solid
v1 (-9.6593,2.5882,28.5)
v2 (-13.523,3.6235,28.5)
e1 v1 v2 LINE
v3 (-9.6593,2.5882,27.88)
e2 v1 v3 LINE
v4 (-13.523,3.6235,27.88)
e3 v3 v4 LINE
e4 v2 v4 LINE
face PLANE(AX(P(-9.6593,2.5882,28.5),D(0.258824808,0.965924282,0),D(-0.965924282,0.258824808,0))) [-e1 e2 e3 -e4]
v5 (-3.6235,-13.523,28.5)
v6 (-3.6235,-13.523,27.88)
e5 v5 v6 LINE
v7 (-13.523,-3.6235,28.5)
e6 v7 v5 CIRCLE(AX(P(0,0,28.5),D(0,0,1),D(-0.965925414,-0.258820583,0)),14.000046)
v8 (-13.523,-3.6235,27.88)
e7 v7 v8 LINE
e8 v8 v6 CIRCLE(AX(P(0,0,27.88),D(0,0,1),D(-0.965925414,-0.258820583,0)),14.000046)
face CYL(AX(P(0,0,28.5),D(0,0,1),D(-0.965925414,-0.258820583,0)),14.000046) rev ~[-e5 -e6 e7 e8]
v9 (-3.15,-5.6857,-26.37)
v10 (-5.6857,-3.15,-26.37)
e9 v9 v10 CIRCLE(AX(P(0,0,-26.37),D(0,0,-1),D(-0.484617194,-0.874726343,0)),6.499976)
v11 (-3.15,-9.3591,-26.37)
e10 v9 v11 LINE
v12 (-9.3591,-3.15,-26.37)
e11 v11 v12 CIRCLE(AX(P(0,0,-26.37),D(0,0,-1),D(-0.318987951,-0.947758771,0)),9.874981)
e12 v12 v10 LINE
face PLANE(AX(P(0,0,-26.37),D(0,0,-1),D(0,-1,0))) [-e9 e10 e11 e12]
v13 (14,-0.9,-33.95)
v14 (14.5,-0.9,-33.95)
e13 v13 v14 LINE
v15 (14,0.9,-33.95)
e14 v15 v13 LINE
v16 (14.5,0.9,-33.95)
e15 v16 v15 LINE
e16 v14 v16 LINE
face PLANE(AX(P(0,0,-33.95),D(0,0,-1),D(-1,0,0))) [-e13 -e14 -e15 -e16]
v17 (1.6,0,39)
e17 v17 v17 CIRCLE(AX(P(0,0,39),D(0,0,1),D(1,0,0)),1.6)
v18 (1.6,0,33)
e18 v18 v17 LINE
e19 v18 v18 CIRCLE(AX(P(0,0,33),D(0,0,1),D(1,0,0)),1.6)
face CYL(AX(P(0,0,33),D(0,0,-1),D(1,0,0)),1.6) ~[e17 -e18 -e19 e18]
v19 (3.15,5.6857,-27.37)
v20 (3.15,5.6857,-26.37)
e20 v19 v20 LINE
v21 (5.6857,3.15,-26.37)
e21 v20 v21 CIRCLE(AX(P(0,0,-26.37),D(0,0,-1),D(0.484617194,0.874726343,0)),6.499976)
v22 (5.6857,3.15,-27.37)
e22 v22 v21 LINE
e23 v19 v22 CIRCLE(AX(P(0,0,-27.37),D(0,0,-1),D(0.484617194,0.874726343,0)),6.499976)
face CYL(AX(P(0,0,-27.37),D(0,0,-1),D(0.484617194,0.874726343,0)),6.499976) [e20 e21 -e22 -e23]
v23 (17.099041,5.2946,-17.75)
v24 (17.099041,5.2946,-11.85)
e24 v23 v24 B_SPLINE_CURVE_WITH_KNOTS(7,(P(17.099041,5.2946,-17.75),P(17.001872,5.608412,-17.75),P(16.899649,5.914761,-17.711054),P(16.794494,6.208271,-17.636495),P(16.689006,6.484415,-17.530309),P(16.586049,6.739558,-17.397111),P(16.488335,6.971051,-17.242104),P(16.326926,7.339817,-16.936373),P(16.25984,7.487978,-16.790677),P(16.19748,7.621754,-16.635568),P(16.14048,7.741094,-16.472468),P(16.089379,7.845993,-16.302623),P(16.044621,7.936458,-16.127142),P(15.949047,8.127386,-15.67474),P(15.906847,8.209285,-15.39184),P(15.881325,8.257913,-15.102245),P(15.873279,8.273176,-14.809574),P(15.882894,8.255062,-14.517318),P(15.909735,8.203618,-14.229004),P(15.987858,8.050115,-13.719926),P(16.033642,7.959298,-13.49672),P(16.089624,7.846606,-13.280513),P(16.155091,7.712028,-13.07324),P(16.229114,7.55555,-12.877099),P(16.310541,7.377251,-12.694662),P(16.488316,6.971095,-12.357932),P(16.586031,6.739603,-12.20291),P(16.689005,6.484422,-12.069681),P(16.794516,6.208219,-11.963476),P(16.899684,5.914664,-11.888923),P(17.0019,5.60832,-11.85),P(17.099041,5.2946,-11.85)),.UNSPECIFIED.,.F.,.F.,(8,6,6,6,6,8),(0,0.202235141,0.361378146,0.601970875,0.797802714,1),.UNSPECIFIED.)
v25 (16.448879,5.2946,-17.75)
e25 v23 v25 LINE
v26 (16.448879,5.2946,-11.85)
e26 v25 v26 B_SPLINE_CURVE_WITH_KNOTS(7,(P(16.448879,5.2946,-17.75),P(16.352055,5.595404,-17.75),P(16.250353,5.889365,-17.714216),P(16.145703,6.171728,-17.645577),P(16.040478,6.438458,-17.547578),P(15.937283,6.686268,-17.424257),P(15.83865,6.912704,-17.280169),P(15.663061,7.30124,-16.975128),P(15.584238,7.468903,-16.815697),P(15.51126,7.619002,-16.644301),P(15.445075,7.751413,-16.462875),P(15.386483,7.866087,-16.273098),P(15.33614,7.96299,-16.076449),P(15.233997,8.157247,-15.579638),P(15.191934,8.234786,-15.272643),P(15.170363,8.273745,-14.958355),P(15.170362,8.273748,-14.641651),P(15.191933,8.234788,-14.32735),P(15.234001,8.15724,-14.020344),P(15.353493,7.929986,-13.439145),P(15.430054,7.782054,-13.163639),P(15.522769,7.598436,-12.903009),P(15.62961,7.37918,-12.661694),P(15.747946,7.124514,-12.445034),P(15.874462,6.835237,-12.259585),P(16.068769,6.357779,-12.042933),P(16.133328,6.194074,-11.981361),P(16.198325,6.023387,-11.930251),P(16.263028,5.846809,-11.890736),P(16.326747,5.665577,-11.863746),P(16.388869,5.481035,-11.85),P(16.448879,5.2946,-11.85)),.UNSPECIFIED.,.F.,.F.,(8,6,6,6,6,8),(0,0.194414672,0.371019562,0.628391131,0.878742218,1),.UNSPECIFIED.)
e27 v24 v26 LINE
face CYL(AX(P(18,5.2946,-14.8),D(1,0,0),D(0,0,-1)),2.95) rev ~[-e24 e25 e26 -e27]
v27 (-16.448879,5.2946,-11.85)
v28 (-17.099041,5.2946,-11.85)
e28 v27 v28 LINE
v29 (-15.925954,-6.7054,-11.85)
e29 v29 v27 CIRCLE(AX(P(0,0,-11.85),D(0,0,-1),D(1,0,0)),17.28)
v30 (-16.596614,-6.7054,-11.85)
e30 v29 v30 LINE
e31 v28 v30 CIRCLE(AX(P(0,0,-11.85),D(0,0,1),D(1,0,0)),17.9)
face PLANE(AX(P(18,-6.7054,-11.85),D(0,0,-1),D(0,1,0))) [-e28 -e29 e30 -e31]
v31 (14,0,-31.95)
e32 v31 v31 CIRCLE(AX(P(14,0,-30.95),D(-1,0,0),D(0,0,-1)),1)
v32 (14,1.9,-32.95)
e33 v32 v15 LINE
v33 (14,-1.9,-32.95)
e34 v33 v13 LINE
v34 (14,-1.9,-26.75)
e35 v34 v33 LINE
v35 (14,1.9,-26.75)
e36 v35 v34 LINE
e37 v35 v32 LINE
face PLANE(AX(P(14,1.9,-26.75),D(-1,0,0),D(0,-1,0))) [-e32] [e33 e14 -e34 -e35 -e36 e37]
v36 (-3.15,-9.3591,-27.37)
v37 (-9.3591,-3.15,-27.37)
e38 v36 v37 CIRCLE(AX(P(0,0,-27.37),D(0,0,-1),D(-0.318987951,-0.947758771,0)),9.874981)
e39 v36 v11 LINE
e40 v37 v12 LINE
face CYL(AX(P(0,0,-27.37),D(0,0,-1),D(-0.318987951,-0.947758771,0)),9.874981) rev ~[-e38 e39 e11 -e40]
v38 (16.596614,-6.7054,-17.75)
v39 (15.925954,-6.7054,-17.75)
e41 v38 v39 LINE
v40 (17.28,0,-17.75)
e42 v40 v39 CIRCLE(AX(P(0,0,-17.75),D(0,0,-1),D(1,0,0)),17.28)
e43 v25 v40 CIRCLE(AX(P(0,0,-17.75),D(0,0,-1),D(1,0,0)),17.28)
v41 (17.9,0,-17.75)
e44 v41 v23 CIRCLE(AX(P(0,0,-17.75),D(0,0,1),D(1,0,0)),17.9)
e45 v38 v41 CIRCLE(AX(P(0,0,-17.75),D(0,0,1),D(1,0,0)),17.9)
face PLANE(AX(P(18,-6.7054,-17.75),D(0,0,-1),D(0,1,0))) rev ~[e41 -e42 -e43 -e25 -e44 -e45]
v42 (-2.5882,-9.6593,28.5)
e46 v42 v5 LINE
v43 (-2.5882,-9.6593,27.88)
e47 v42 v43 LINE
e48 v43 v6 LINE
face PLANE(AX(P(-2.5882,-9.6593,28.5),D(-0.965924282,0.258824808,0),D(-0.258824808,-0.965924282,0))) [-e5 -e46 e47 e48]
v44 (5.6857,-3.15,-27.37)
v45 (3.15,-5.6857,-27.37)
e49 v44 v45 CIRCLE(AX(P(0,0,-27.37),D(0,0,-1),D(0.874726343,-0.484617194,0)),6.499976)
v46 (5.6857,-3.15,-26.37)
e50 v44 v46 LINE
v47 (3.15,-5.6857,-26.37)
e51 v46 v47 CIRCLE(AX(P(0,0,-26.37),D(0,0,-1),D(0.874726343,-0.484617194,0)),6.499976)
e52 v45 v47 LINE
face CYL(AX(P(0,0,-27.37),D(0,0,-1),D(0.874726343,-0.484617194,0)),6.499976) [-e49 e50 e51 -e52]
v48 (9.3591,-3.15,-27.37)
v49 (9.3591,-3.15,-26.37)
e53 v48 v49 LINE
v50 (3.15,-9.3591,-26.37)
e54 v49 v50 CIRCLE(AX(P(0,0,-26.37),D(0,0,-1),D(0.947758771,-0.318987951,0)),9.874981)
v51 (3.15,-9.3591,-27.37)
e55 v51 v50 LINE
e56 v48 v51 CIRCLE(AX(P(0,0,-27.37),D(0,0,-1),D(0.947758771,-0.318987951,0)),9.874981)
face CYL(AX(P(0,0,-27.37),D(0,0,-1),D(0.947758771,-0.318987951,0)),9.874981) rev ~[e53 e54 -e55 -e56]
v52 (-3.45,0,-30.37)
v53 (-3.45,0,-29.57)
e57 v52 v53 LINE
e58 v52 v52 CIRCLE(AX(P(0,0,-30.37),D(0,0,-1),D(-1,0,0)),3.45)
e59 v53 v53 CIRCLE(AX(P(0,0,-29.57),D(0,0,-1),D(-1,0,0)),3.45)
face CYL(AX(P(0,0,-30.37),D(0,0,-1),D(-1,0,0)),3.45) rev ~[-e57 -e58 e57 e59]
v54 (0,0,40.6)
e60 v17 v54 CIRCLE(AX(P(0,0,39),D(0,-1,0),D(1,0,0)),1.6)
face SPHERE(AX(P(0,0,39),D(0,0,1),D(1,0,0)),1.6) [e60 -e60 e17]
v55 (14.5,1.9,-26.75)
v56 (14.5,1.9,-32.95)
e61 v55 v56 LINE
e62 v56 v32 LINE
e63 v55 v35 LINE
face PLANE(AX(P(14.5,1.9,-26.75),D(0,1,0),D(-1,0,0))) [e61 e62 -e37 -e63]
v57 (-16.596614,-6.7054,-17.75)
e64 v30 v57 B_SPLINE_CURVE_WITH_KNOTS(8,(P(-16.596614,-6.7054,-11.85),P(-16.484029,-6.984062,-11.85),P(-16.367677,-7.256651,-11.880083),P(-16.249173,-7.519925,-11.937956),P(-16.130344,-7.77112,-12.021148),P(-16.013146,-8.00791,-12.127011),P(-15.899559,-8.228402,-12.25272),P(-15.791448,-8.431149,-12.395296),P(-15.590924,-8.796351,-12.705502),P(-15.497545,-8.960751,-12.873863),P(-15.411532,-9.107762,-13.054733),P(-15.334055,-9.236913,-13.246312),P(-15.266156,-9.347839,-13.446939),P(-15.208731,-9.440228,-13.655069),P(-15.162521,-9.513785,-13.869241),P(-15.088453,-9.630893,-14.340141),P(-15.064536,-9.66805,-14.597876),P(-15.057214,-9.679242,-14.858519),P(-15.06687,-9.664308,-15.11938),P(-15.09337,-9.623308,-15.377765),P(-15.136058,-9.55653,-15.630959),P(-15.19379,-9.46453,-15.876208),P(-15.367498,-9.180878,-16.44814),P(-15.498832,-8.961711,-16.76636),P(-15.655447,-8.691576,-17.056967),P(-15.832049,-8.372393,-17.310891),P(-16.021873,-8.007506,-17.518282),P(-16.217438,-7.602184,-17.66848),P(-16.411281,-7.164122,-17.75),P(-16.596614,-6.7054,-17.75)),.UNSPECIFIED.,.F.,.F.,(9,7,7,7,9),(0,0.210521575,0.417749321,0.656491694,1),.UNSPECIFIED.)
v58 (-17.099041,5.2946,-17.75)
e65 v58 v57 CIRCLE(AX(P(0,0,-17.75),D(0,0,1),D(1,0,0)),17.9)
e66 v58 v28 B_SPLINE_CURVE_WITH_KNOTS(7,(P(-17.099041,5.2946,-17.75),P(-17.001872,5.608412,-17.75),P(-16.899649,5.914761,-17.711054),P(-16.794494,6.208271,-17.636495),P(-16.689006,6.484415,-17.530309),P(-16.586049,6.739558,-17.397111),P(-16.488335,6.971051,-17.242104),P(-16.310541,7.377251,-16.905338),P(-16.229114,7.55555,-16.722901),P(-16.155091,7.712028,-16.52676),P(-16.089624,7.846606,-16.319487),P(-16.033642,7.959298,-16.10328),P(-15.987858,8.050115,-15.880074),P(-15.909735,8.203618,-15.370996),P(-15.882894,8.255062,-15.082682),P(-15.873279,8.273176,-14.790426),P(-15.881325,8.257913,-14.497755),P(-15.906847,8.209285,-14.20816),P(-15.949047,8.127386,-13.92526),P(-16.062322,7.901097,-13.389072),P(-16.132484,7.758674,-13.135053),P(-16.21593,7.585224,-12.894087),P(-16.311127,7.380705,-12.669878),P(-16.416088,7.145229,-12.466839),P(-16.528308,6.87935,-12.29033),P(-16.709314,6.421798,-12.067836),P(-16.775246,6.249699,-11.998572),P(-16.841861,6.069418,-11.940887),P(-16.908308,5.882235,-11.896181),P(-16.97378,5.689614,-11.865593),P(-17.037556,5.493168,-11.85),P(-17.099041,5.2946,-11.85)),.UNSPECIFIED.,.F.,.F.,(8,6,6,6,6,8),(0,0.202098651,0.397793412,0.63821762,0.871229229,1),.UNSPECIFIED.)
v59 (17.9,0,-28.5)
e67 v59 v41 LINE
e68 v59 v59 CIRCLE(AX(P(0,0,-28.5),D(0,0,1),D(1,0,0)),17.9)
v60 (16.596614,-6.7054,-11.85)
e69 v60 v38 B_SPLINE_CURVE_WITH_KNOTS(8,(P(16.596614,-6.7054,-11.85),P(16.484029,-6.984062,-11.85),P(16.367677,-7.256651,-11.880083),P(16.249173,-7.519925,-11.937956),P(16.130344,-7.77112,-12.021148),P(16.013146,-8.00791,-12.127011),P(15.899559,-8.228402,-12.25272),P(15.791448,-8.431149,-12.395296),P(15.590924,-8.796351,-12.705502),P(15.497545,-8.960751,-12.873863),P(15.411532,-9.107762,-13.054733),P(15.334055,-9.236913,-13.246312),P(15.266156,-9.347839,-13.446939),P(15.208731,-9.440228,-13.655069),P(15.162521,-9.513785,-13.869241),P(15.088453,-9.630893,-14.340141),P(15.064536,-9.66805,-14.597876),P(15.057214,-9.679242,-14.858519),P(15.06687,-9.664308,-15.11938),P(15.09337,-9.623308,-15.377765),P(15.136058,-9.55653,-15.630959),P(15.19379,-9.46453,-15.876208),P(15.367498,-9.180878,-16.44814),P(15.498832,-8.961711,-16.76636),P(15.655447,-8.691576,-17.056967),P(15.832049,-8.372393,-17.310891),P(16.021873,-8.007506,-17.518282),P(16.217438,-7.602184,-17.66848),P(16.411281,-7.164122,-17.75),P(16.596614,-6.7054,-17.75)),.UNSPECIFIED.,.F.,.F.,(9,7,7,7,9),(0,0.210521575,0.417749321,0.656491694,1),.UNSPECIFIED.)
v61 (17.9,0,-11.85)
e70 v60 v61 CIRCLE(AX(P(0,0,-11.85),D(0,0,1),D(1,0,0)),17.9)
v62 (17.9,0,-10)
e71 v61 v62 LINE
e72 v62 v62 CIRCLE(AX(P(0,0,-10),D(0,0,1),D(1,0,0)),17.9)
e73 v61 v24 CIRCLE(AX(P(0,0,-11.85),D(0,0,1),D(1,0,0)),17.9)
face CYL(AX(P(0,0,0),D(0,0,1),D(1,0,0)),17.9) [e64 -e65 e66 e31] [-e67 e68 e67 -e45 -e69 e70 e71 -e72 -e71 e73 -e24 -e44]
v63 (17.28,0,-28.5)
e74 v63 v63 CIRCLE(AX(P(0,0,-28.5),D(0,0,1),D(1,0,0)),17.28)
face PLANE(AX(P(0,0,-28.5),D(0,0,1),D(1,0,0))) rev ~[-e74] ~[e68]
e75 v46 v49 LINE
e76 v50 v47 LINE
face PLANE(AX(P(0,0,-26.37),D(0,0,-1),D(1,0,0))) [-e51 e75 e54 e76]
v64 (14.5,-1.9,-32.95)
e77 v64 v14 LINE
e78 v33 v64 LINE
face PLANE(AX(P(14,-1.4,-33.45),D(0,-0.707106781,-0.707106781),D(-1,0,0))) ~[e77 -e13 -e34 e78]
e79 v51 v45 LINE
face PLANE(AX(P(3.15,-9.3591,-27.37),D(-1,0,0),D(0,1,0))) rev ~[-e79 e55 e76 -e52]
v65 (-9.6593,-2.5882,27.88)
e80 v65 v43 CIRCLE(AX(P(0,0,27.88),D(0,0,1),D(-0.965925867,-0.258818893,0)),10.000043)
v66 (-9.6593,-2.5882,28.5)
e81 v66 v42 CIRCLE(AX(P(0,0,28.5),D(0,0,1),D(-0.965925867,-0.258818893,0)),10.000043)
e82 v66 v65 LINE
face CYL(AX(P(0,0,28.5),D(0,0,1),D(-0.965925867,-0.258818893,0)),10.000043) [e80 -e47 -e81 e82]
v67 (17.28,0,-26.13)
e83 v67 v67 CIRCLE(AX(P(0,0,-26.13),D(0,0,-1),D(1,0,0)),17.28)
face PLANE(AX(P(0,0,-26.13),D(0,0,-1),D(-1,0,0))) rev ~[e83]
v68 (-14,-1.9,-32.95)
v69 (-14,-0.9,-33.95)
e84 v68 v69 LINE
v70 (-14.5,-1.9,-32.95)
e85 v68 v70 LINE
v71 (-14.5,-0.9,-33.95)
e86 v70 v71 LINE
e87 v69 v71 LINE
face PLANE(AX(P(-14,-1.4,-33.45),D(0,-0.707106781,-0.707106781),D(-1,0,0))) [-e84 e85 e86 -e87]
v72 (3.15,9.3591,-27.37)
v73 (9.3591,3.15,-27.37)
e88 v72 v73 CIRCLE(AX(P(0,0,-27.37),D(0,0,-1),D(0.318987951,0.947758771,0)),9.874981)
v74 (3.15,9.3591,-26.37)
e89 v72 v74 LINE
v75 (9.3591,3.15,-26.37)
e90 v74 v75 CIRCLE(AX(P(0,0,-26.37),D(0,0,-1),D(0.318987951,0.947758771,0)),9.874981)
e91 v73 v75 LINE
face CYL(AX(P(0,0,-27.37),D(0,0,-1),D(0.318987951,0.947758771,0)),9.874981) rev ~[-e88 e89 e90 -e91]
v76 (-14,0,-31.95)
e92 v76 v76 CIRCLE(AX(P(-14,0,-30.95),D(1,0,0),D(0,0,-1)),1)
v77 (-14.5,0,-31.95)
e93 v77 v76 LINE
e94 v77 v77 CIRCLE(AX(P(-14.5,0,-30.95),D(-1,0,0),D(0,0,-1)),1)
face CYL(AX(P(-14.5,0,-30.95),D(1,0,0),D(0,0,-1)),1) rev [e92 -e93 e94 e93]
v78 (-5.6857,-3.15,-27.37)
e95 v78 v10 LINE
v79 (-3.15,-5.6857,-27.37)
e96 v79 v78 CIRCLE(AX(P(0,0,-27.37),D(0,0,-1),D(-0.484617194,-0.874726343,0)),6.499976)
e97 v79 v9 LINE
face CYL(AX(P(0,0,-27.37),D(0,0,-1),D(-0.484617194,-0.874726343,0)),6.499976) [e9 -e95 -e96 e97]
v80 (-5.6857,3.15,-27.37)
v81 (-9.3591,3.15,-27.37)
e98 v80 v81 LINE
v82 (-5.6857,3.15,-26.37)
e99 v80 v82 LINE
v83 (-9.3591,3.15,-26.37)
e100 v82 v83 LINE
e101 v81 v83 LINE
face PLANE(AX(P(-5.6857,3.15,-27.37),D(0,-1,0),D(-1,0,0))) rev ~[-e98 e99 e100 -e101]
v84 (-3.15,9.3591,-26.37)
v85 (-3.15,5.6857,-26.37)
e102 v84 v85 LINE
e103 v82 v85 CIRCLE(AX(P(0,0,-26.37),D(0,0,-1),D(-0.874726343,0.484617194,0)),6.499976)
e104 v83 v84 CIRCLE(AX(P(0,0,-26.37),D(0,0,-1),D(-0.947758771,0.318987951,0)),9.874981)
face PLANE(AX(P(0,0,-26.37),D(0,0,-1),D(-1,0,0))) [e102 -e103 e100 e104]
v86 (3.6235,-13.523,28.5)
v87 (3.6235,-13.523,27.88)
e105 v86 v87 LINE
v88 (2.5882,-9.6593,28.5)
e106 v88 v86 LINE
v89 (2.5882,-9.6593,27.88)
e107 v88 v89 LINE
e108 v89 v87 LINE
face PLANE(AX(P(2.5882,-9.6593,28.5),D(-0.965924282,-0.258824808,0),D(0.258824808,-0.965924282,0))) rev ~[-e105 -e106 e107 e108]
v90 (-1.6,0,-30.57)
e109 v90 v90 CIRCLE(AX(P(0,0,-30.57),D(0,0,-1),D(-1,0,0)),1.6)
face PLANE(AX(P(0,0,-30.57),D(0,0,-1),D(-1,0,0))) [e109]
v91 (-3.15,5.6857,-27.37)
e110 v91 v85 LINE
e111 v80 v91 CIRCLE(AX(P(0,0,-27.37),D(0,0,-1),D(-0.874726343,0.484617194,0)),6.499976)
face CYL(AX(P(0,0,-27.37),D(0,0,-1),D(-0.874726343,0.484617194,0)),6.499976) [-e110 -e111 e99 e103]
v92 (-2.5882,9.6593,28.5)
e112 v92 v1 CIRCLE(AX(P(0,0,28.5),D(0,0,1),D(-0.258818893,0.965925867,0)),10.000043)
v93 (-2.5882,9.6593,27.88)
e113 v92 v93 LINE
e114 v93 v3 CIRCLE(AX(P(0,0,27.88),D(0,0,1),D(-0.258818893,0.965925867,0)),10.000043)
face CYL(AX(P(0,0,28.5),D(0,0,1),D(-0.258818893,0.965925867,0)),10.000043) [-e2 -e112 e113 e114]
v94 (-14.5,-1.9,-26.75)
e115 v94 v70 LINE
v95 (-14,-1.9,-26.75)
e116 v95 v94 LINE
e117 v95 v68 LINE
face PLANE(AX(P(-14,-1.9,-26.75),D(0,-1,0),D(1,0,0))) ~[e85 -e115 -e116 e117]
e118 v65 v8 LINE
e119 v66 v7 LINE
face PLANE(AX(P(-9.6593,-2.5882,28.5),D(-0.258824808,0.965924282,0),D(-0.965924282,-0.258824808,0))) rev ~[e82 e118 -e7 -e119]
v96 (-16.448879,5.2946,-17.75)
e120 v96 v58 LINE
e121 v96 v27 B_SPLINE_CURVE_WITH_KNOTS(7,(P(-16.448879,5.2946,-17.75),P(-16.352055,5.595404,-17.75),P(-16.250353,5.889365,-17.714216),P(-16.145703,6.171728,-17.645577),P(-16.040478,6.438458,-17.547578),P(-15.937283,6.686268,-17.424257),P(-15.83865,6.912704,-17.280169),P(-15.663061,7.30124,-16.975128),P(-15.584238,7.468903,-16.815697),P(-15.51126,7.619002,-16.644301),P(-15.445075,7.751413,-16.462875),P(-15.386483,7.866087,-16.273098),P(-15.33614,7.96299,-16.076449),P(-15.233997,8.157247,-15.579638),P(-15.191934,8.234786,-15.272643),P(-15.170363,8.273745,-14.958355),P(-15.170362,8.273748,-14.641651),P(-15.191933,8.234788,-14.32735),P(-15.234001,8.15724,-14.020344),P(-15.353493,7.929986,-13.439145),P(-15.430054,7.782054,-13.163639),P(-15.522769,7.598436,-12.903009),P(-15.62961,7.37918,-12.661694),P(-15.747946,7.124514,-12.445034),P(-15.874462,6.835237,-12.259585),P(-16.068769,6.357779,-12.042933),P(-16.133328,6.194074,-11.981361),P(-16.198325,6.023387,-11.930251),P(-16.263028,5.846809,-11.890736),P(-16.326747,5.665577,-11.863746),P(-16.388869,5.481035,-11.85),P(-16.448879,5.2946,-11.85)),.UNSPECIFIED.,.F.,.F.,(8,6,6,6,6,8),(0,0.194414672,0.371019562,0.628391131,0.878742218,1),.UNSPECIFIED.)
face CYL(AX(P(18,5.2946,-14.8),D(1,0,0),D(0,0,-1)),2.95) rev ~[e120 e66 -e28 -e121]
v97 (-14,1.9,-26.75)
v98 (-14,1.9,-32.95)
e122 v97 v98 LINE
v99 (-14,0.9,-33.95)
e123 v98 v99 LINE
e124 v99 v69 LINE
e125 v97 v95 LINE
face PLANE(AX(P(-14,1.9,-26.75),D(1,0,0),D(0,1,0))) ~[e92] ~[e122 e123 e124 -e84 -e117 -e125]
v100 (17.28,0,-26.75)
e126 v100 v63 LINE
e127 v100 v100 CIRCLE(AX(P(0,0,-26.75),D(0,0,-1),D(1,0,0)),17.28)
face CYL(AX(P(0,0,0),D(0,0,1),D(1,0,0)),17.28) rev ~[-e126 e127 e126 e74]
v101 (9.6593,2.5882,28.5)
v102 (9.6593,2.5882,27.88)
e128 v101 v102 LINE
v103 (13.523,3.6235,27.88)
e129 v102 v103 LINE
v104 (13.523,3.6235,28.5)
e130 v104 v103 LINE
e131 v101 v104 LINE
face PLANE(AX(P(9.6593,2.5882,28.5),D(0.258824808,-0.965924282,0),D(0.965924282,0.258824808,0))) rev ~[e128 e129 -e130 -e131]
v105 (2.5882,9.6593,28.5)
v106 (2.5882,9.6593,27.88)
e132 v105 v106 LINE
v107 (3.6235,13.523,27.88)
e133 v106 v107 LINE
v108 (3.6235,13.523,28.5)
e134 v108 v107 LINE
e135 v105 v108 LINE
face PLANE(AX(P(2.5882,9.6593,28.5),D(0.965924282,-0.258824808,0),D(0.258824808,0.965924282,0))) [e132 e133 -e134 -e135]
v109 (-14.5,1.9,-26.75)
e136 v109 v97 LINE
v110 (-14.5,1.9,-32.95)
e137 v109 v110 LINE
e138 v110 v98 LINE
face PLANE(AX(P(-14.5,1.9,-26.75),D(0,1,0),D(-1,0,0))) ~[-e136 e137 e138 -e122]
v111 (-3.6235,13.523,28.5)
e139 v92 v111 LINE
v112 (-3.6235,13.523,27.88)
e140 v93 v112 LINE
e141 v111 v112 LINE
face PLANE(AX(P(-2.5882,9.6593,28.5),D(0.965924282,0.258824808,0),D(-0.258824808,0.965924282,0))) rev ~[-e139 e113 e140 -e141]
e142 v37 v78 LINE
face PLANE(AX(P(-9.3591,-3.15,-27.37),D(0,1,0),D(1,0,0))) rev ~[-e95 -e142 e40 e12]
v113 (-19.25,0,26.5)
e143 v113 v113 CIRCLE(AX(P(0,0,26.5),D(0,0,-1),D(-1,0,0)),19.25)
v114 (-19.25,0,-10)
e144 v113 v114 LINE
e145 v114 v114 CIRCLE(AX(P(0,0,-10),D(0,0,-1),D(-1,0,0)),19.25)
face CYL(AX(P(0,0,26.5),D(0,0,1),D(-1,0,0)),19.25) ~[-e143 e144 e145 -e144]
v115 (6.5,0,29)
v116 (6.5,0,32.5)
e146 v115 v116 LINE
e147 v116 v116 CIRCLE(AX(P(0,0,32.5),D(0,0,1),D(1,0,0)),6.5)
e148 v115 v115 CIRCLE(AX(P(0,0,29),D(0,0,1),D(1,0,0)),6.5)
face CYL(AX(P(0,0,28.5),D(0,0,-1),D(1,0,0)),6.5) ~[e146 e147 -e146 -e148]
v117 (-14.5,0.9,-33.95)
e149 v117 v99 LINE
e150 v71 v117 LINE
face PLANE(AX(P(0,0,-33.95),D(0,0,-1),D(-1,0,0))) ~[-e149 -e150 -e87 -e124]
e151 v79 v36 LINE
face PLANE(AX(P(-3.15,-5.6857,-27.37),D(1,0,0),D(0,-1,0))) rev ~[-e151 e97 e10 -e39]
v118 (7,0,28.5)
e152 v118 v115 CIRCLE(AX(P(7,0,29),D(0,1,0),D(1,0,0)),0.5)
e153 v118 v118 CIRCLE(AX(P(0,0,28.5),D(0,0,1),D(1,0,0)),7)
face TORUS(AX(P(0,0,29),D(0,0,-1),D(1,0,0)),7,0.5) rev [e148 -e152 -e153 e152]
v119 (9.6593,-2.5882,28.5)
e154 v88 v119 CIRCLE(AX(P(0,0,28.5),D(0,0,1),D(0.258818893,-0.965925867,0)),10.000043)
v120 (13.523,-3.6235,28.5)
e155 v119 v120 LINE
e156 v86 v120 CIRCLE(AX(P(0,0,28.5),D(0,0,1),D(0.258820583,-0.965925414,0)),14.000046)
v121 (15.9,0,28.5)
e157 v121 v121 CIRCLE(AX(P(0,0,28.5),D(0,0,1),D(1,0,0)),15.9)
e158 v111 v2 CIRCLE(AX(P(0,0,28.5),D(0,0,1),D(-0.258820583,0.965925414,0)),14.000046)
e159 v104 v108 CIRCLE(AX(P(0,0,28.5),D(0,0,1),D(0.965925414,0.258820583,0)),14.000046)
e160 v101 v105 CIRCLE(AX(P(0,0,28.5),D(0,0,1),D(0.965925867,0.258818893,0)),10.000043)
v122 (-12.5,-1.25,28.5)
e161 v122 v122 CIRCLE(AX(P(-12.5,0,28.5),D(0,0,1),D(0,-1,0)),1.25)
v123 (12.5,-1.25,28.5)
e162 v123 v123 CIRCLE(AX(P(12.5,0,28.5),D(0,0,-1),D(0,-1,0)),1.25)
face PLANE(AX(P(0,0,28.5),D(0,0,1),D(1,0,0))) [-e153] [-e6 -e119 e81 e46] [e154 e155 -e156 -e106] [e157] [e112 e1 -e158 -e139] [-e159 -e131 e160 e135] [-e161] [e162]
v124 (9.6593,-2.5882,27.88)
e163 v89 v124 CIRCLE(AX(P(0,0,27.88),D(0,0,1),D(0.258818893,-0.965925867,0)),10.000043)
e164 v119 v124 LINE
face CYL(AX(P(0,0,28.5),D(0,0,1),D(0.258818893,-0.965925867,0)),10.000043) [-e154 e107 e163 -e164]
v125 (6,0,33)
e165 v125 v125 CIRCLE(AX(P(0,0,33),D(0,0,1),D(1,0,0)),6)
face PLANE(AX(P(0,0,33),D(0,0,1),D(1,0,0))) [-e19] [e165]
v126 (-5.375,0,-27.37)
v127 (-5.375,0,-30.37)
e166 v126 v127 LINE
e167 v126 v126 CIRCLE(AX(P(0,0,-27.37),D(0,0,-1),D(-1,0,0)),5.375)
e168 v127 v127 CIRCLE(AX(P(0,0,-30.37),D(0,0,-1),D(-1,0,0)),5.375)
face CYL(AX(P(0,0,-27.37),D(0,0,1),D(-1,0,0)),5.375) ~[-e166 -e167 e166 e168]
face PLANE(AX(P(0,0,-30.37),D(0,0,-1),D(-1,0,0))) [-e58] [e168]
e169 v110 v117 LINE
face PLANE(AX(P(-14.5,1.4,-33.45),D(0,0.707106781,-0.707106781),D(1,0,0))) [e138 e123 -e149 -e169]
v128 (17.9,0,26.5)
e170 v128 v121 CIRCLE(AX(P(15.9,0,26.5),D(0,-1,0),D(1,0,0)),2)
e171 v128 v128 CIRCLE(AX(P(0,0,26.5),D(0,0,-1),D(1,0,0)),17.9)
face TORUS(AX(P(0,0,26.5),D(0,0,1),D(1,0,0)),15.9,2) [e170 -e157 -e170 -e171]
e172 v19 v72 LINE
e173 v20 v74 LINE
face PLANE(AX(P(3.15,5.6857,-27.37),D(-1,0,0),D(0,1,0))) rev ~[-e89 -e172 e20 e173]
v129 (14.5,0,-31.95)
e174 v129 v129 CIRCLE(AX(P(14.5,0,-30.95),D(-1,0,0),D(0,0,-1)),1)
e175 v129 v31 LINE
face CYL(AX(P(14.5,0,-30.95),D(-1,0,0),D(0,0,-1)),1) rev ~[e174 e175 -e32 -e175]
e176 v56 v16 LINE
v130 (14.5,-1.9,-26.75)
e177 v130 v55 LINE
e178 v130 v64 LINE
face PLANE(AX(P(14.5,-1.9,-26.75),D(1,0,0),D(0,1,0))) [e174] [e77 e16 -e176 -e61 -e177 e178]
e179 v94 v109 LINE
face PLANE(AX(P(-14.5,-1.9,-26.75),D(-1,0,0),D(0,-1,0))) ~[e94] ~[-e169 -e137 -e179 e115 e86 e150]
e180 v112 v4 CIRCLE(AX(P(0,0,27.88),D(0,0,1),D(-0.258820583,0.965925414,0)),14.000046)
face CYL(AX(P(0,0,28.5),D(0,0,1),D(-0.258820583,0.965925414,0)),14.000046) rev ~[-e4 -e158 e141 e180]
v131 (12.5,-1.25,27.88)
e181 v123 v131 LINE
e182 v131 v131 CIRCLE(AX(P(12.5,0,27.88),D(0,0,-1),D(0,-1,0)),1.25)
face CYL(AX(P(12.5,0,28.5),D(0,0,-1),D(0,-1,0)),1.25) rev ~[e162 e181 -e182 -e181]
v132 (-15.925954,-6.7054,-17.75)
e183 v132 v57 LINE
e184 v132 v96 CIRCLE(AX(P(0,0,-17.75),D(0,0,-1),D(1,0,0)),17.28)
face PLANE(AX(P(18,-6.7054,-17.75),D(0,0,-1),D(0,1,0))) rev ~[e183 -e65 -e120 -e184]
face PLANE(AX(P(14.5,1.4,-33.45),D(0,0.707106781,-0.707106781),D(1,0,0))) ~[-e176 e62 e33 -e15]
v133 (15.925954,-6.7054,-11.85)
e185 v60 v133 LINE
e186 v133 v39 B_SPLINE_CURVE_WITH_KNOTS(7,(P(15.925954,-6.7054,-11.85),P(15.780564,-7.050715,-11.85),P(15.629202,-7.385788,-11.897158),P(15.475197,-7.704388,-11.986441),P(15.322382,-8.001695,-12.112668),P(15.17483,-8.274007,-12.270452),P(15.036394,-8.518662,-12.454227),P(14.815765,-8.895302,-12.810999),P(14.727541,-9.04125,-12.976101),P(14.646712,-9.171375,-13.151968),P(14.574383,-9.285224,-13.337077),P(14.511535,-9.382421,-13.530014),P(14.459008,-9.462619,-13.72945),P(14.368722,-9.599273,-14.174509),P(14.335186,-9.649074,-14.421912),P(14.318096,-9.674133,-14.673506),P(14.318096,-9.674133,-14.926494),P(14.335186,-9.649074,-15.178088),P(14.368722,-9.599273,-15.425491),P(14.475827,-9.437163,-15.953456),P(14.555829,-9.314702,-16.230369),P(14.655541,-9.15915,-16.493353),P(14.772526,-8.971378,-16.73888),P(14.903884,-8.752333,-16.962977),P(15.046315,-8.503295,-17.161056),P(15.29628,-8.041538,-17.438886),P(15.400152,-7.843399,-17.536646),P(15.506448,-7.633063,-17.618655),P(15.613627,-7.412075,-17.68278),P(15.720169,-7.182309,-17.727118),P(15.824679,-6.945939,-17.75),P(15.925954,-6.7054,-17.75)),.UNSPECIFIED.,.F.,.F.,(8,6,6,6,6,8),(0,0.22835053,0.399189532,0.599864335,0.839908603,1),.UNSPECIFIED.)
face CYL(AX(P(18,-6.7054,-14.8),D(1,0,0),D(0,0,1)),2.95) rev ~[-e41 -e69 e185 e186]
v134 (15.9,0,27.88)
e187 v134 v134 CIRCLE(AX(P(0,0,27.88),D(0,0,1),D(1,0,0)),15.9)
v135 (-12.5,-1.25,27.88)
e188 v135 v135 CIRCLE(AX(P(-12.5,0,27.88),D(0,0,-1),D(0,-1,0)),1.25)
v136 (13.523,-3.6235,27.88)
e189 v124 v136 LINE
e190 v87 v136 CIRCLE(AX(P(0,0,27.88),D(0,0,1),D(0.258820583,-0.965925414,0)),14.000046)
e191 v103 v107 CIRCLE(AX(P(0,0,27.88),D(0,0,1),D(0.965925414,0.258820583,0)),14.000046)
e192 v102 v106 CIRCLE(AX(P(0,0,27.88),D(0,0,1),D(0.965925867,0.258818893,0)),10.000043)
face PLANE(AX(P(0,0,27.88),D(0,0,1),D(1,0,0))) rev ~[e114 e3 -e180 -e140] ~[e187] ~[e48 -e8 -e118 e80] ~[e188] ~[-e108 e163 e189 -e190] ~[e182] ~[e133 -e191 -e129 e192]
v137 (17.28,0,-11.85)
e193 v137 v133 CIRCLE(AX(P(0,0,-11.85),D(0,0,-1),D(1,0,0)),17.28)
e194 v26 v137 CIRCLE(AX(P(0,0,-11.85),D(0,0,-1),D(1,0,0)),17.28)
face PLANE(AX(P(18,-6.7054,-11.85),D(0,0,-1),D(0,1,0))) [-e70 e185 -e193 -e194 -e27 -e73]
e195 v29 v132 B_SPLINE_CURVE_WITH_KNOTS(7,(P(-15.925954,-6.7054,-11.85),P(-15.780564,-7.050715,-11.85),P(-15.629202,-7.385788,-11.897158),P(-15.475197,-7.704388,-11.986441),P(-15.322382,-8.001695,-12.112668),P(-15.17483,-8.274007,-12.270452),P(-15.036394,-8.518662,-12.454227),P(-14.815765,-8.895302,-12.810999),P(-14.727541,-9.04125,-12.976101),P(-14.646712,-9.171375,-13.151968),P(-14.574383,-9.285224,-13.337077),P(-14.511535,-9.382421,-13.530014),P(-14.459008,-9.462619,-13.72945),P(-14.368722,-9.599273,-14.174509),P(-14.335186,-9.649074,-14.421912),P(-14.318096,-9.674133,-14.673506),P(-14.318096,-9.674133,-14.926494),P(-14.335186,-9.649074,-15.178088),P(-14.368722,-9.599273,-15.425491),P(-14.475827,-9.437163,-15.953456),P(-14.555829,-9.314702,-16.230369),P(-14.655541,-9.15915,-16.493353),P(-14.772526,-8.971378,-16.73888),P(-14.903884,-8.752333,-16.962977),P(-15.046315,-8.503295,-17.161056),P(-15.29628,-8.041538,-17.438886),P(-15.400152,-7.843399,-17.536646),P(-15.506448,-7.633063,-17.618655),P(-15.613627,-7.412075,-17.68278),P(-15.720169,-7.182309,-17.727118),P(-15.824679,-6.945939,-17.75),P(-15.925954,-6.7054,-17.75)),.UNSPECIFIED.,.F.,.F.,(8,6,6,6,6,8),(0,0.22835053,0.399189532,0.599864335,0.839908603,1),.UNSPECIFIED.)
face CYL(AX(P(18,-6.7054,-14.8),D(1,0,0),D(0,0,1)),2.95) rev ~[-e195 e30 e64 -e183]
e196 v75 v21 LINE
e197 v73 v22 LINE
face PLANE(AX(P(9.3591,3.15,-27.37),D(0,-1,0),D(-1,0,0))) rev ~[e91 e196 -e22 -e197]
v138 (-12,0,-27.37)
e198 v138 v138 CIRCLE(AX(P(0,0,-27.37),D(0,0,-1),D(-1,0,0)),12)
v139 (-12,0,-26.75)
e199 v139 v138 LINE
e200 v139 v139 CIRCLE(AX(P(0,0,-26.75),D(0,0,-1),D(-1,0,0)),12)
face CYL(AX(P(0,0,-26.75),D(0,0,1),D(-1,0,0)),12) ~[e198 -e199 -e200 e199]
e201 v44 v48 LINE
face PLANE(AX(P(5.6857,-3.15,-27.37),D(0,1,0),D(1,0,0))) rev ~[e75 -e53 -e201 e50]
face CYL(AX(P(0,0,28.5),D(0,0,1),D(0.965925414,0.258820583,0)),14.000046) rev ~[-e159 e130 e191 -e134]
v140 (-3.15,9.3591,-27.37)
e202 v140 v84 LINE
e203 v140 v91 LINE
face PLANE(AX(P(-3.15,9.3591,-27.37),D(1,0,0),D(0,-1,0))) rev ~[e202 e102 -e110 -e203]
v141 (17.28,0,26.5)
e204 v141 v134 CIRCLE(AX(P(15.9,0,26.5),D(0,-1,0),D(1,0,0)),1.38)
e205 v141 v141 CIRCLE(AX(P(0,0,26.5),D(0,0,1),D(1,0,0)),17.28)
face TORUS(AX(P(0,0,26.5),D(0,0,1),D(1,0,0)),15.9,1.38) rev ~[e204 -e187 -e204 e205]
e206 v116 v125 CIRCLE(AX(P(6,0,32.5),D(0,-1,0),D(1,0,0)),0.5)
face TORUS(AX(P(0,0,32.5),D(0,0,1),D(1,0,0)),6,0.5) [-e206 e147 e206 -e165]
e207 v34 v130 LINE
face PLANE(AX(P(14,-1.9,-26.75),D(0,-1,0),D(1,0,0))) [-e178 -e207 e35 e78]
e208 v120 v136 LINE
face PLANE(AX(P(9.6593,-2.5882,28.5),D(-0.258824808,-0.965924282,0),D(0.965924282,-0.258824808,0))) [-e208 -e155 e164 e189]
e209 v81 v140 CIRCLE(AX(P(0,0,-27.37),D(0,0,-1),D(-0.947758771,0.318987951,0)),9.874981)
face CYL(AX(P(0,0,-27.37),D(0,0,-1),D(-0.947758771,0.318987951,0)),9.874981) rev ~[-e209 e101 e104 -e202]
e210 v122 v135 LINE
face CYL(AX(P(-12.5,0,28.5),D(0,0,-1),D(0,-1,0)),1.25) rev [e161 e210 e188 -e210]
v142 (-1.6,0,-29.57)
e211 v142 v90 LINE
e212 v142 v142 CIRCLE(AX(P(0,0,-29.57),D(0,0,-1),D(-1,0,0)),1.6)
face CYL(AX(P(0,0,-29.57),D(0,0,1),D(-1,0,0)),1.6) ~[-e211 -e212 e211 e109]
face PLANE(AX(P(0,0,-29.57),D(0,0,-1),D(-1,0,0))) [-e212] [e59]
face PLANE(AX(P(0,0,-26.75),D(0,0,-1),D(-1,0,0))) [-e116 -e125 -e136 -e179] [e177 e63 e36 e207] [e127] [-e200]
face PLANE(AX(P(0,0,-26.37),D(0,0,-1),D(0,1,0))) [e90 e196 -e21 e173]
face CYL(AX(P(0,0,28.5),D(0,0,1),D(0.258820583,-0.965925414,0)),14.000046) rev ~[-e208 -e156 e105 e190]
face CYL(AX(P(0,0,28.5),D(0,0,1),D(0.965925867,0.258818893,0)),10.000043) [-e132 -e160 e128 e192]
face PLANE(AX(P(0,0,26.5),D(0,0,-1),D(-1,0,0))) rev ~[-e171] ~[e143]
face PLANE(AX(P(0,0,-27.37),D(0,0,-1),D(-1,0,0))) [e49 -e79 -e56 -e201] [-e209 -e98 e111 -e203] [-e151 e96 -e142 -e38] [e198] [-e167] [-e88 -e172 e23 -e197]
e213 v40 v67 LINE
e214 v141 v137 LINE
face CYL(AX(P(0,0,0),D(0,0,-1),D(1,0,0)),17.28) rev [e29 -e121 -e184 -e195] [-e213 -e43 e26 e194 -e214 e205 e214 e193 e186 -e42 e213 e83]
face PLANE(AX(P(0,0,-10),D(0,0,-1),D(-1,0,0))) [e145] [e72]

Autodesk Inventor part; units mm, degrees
sketch "Sketch1" plane through (0, 0, 0) normal (0, 0, 1) x (1, 0, 0)
  circle A0 centre (0, 0) radius 17.9
  dimension "d0" = 35.8
extrude "Extrusion1" add sketch "Sketch1" along normal mid plane 57
fillet "Fillet1" radius 2 1 edges at (-17.9, 0, 28.5)
shell "Shell1" thickness 0.62 removed faces 1 at (-5.8627, 4.3009, -28.5)
sketch "Sketch2" plane through (0, 0, 28.5) normal (0, 0, 1) x (1, 0, 0)
  circle A0 centre (0, 0) radius 15.9 projected
  circle A1 centre (0, 0) radius 6.5
  dimension "d5" = 13
extrude "Extrusion2" add sketch "Sketch2" along normal blind 4.5 contours A1
fillet "Fillet2" radius 0.5 2 edges at (-6.5, 0, 28.5) (-6.5, 0, 33)
sketch "Sketch3" plane through (0, 0, 33) normal (0, 0, 1) x (1, 0, 0)
  circle A0 centre (0, 0) radius 6 projected
  circle A1 centre (0, 0) radius 1.6
  dimension "d9" = 3.2
extrude "Extrusion3" add sketch "Sketch3" along normal blind 7.6 contours A1
fillet "Fillet3" radius 1.6 1 edges at (-1.6, 0, 40.6)
sketch "Sketch4" plane through (0, 0, 28.5) normal (0, 0, 1) x (1, 0, 0)
  circle A0 centre (0, 0) radius 15.9 projected
  point P0 (12.5, 0)
  dimension "d13" = 12.5
hole "Hole1" at (12.5, 0, 28.5) direction (0, 0, -1) diameter 2.5 depth 8 tip angle 118
mirror "Mirror1" about plane through (0, 0, 0) normal (1, 0, 0) of "Hole1"
sketch "Sketch5" plane through (0, 0, 28.5) normal (0, 0, 1) x (1, 0, 0)
  circle A0 centre (12.5, 0) radius 1.25 projected
  circle A1 centre (0, 0) radius 7 projected
  arc A2 (13.523, 3.6235) -> (3.6235, 13.523) centre (0, 0) ccw
  arc A3 (9.6593, 2.5882) -> (2.5882, 9.6593) centre (0, 0) ccw
  line L0 (0, 0) -> (3.6235, 13.523) construction
  line L1 (0, 0) -> (13.523, 3.6235) construction
  line L2 (2.5882, 9.6593) -> (3.6235, 13.523)
  line L3 (9.6593, 2.5882) -> (13.523, 3.6235)
  line L4 (0, 0) -> (12.5, 0) construction
  line L5 (0.151, 0.5634) -> (0.151, 14.7153) construction
  dimension "d21" = 15
  dimension "d22" = 15
  dimension "d23" = 14
  dimension "d24" = 10
extrude "Extrusion4" cut sketch "Sketch5" against normal blind 10 contours L3 A3 L2 A2
pattern_circular "Circular Pattern1" count 4 over 360 about axis through (0, 0, 0) along (0, 0, 1) of "Extrusion4"
ref_plane "Work Plane1" through (0, 0, -26.75) normal (0, 0, -1) x (-1, 0, 0)
sketch "Sketch6" plane through (0, 0, -26.75) normal (0, 0, -1) x (-1, 0, 0)
  circle A0 centre (0, 0) radius 17.28 projected
extrude "Extrusion5" add sketch "Sketch6" against normal blind 0.62
sketch "Sketch7" plane through (0, 0, -26.75) normal (0, 0, -1) x (-1, 0, 0)
  circle A0 centre (0, 0) radius 17.28 projected
  circle A1 centre (0, 0) radius 12
  dimension "d33" = 24
extrude "Extrusion6" add sketch "Sketch7" along normal blind 0.62 contours A1
sketch "Sketch8" plane through (0, 0, -27.37) normal (0, 0, -1) x (-1, 0, 0)
  circle A0 centre (0, 0) radius 12 projected
  circle A1 centre (0, 0) radius 5.375
  dimension "d36" = 10.75
extrude "Extrusion7" add sketch "Sketch8" along normal blind 3 contours A1
sketch "Sketch9" plane through (0, 0, -30.37) normal (0, 0, -1) x (-1, 0, 0)
  circle A0 centre (0, 0) radius 5.375 projected
  circle A1 centre (0, 0) radius 3.45
  dimension "d39" = 6.9
extrude "Extrusion8" cut sketch "Sketch9" against normal blind 0.8 contours A1
sketch "Sketch10" plane through (0, 0, -29.57) normal (0, 0, -1) x (-1, 0, 0)
  circle A0 centre (0, 0) radius 3.45 projected
  circle A1 centre (0, 0) radius 1.6
  dimension "d42" = 3.2
extrude "Extrusion9" add sketch "Sketch10" along normal blind 1 contours A1
sketch "Sketch11" plane through (0, 0, -27.37) normal (0, 0, -1) x (-1, 0, 0)
  circle A0 centre (0, 0) radius 5.375 projected
  circle A1 centre (0, 0) radius 12 projected
  arc A2 (9.3591, 3.15) -> (3.15, 9.3591) centre (0, 0) ccw
  arc A3 (5.6857, 3.15) -> (3.15, 5.6857) centre (0, 0) ccw
  line L0 (3.15, 9.3591) -> (3.15, 5.6857)
  line L1 (5.6857, 3.15) -> (9.3591, 3.15)
  dimension "d45" = 3.15
  dimension "d46" = 3.15
  dimension "d47" = 9.875
  dimension "d48" = 6.5
extrude "Extrusion10" cut sketch "Sketch11" against normal blind 1 contours L1 A3 L0 A2
pattern_circular "Circular Pattern2" count 4 over 360 about axis through (0, 0, 0) along (0, 0, 1) of "Extrusion10"
sketch "Sketch12" plane through (0, 0, -26.75) normal (0, 0, -1) x (-1, 0, 0)
  circle A0 centre (0, 0) radius 12 projected
  circle A1 centre (0, 0) radius 17.28 projected
  line L0 (-14.5, 1.9) -> (-14, 1.9)
  line L1 (-14, 1.9) -> (-14, -1.9)
  line L2 (-14, -1.9) -> (-14.5, -1.9)
  line L3 (-14.5, -1.9) -> (-14.5, 1.9)
  line L4 (0, 0) -> (-16.9017, 0) construction
  point P0 (-14, 0)
  dimension "d54" = 0.5
  dimension "d55" = 3.8
  dimension "d56" = 14
extrude "Extrusion11" add sketch "Sketch12" along normal blind 7.2 contours L0 L1 L2 L3
chamfer "Chamfer1" distance 1 angle 45 2 edges at (14.25, 1.9, -33.95) (14.25, -1.9, -33.95)
sketch "Sketch13" plane through (14.5, -1.9, -26.75) normal (1, 0, 0) x (0, 0, -1)
  line L0 (7.2, 1) -> (7.2, 2.8) projected
  line L1 (4.2, 1.9) -> (6.2, 3.8) construction
  line L2 (4.2, 1.9) -> (6.2, 0) construction
  dimension "d61" = 3
hole "Hole2" at (14.5, 0, -30.95) direction (-1, 0, 0) diameter 2 depth 1 tip angle 118
mirror "Mirror2" about plane through (0, 0, 0) normal (1, 0, 0) of "Extrusion11", "Chamfer1", "Hole2"
ref_plane "Work Plane2" through (18, 0, 0) normal (1, 0, 0) x (0, 1, 0)
sketch "Sketch14" plane through (18, 0, 0) normal (1, 0, 0) x (0, 1, 0)
  arc A0 (-6.7054, -11.85) -> (-6.7054, -17.75) centre (-6.7054, -14.8) ccw
  arc A1 (5.2946, -17.75) -> (5.2946, -11.85) centre (5.2946, -14.8) ccw
  line L0 (-6.7054, -11.85) -> (5.2946, -11.85)
  line L1 (-6.7054, -17.75) -> (5.2946, -17.75)
  line L2 (17.9, -28.5) -> (-17.9, -28.5) projected
  line L3 (0, -28.5) -> (0, 17.1564) construction
  dimension "d70" = 10.75
  dimension "d71" = 5.9
  dimension "d72" = 12
extrude "Extrusion12" cut sketch "Sketch14" against normal through all
ref_plane "Work Plane3" through (0, 0, 26.5) normal (0, 0, -1) x (-1, 0, 0)
sketch "Sketch15" plane through (0, 0, 26.5) normal (0, 0, -1) x (-1, 0, 0)
  circle A0 centre (0, 0) radius 17.9 projected
  circle A1 centre (0, 0) radius 19.25
  dimension "d76" = 1.35
extrude "Flux Ring" add sketch "Sketch15" along normal blind 36.5
properties part number "RS-550" material "Steel, Mild"
